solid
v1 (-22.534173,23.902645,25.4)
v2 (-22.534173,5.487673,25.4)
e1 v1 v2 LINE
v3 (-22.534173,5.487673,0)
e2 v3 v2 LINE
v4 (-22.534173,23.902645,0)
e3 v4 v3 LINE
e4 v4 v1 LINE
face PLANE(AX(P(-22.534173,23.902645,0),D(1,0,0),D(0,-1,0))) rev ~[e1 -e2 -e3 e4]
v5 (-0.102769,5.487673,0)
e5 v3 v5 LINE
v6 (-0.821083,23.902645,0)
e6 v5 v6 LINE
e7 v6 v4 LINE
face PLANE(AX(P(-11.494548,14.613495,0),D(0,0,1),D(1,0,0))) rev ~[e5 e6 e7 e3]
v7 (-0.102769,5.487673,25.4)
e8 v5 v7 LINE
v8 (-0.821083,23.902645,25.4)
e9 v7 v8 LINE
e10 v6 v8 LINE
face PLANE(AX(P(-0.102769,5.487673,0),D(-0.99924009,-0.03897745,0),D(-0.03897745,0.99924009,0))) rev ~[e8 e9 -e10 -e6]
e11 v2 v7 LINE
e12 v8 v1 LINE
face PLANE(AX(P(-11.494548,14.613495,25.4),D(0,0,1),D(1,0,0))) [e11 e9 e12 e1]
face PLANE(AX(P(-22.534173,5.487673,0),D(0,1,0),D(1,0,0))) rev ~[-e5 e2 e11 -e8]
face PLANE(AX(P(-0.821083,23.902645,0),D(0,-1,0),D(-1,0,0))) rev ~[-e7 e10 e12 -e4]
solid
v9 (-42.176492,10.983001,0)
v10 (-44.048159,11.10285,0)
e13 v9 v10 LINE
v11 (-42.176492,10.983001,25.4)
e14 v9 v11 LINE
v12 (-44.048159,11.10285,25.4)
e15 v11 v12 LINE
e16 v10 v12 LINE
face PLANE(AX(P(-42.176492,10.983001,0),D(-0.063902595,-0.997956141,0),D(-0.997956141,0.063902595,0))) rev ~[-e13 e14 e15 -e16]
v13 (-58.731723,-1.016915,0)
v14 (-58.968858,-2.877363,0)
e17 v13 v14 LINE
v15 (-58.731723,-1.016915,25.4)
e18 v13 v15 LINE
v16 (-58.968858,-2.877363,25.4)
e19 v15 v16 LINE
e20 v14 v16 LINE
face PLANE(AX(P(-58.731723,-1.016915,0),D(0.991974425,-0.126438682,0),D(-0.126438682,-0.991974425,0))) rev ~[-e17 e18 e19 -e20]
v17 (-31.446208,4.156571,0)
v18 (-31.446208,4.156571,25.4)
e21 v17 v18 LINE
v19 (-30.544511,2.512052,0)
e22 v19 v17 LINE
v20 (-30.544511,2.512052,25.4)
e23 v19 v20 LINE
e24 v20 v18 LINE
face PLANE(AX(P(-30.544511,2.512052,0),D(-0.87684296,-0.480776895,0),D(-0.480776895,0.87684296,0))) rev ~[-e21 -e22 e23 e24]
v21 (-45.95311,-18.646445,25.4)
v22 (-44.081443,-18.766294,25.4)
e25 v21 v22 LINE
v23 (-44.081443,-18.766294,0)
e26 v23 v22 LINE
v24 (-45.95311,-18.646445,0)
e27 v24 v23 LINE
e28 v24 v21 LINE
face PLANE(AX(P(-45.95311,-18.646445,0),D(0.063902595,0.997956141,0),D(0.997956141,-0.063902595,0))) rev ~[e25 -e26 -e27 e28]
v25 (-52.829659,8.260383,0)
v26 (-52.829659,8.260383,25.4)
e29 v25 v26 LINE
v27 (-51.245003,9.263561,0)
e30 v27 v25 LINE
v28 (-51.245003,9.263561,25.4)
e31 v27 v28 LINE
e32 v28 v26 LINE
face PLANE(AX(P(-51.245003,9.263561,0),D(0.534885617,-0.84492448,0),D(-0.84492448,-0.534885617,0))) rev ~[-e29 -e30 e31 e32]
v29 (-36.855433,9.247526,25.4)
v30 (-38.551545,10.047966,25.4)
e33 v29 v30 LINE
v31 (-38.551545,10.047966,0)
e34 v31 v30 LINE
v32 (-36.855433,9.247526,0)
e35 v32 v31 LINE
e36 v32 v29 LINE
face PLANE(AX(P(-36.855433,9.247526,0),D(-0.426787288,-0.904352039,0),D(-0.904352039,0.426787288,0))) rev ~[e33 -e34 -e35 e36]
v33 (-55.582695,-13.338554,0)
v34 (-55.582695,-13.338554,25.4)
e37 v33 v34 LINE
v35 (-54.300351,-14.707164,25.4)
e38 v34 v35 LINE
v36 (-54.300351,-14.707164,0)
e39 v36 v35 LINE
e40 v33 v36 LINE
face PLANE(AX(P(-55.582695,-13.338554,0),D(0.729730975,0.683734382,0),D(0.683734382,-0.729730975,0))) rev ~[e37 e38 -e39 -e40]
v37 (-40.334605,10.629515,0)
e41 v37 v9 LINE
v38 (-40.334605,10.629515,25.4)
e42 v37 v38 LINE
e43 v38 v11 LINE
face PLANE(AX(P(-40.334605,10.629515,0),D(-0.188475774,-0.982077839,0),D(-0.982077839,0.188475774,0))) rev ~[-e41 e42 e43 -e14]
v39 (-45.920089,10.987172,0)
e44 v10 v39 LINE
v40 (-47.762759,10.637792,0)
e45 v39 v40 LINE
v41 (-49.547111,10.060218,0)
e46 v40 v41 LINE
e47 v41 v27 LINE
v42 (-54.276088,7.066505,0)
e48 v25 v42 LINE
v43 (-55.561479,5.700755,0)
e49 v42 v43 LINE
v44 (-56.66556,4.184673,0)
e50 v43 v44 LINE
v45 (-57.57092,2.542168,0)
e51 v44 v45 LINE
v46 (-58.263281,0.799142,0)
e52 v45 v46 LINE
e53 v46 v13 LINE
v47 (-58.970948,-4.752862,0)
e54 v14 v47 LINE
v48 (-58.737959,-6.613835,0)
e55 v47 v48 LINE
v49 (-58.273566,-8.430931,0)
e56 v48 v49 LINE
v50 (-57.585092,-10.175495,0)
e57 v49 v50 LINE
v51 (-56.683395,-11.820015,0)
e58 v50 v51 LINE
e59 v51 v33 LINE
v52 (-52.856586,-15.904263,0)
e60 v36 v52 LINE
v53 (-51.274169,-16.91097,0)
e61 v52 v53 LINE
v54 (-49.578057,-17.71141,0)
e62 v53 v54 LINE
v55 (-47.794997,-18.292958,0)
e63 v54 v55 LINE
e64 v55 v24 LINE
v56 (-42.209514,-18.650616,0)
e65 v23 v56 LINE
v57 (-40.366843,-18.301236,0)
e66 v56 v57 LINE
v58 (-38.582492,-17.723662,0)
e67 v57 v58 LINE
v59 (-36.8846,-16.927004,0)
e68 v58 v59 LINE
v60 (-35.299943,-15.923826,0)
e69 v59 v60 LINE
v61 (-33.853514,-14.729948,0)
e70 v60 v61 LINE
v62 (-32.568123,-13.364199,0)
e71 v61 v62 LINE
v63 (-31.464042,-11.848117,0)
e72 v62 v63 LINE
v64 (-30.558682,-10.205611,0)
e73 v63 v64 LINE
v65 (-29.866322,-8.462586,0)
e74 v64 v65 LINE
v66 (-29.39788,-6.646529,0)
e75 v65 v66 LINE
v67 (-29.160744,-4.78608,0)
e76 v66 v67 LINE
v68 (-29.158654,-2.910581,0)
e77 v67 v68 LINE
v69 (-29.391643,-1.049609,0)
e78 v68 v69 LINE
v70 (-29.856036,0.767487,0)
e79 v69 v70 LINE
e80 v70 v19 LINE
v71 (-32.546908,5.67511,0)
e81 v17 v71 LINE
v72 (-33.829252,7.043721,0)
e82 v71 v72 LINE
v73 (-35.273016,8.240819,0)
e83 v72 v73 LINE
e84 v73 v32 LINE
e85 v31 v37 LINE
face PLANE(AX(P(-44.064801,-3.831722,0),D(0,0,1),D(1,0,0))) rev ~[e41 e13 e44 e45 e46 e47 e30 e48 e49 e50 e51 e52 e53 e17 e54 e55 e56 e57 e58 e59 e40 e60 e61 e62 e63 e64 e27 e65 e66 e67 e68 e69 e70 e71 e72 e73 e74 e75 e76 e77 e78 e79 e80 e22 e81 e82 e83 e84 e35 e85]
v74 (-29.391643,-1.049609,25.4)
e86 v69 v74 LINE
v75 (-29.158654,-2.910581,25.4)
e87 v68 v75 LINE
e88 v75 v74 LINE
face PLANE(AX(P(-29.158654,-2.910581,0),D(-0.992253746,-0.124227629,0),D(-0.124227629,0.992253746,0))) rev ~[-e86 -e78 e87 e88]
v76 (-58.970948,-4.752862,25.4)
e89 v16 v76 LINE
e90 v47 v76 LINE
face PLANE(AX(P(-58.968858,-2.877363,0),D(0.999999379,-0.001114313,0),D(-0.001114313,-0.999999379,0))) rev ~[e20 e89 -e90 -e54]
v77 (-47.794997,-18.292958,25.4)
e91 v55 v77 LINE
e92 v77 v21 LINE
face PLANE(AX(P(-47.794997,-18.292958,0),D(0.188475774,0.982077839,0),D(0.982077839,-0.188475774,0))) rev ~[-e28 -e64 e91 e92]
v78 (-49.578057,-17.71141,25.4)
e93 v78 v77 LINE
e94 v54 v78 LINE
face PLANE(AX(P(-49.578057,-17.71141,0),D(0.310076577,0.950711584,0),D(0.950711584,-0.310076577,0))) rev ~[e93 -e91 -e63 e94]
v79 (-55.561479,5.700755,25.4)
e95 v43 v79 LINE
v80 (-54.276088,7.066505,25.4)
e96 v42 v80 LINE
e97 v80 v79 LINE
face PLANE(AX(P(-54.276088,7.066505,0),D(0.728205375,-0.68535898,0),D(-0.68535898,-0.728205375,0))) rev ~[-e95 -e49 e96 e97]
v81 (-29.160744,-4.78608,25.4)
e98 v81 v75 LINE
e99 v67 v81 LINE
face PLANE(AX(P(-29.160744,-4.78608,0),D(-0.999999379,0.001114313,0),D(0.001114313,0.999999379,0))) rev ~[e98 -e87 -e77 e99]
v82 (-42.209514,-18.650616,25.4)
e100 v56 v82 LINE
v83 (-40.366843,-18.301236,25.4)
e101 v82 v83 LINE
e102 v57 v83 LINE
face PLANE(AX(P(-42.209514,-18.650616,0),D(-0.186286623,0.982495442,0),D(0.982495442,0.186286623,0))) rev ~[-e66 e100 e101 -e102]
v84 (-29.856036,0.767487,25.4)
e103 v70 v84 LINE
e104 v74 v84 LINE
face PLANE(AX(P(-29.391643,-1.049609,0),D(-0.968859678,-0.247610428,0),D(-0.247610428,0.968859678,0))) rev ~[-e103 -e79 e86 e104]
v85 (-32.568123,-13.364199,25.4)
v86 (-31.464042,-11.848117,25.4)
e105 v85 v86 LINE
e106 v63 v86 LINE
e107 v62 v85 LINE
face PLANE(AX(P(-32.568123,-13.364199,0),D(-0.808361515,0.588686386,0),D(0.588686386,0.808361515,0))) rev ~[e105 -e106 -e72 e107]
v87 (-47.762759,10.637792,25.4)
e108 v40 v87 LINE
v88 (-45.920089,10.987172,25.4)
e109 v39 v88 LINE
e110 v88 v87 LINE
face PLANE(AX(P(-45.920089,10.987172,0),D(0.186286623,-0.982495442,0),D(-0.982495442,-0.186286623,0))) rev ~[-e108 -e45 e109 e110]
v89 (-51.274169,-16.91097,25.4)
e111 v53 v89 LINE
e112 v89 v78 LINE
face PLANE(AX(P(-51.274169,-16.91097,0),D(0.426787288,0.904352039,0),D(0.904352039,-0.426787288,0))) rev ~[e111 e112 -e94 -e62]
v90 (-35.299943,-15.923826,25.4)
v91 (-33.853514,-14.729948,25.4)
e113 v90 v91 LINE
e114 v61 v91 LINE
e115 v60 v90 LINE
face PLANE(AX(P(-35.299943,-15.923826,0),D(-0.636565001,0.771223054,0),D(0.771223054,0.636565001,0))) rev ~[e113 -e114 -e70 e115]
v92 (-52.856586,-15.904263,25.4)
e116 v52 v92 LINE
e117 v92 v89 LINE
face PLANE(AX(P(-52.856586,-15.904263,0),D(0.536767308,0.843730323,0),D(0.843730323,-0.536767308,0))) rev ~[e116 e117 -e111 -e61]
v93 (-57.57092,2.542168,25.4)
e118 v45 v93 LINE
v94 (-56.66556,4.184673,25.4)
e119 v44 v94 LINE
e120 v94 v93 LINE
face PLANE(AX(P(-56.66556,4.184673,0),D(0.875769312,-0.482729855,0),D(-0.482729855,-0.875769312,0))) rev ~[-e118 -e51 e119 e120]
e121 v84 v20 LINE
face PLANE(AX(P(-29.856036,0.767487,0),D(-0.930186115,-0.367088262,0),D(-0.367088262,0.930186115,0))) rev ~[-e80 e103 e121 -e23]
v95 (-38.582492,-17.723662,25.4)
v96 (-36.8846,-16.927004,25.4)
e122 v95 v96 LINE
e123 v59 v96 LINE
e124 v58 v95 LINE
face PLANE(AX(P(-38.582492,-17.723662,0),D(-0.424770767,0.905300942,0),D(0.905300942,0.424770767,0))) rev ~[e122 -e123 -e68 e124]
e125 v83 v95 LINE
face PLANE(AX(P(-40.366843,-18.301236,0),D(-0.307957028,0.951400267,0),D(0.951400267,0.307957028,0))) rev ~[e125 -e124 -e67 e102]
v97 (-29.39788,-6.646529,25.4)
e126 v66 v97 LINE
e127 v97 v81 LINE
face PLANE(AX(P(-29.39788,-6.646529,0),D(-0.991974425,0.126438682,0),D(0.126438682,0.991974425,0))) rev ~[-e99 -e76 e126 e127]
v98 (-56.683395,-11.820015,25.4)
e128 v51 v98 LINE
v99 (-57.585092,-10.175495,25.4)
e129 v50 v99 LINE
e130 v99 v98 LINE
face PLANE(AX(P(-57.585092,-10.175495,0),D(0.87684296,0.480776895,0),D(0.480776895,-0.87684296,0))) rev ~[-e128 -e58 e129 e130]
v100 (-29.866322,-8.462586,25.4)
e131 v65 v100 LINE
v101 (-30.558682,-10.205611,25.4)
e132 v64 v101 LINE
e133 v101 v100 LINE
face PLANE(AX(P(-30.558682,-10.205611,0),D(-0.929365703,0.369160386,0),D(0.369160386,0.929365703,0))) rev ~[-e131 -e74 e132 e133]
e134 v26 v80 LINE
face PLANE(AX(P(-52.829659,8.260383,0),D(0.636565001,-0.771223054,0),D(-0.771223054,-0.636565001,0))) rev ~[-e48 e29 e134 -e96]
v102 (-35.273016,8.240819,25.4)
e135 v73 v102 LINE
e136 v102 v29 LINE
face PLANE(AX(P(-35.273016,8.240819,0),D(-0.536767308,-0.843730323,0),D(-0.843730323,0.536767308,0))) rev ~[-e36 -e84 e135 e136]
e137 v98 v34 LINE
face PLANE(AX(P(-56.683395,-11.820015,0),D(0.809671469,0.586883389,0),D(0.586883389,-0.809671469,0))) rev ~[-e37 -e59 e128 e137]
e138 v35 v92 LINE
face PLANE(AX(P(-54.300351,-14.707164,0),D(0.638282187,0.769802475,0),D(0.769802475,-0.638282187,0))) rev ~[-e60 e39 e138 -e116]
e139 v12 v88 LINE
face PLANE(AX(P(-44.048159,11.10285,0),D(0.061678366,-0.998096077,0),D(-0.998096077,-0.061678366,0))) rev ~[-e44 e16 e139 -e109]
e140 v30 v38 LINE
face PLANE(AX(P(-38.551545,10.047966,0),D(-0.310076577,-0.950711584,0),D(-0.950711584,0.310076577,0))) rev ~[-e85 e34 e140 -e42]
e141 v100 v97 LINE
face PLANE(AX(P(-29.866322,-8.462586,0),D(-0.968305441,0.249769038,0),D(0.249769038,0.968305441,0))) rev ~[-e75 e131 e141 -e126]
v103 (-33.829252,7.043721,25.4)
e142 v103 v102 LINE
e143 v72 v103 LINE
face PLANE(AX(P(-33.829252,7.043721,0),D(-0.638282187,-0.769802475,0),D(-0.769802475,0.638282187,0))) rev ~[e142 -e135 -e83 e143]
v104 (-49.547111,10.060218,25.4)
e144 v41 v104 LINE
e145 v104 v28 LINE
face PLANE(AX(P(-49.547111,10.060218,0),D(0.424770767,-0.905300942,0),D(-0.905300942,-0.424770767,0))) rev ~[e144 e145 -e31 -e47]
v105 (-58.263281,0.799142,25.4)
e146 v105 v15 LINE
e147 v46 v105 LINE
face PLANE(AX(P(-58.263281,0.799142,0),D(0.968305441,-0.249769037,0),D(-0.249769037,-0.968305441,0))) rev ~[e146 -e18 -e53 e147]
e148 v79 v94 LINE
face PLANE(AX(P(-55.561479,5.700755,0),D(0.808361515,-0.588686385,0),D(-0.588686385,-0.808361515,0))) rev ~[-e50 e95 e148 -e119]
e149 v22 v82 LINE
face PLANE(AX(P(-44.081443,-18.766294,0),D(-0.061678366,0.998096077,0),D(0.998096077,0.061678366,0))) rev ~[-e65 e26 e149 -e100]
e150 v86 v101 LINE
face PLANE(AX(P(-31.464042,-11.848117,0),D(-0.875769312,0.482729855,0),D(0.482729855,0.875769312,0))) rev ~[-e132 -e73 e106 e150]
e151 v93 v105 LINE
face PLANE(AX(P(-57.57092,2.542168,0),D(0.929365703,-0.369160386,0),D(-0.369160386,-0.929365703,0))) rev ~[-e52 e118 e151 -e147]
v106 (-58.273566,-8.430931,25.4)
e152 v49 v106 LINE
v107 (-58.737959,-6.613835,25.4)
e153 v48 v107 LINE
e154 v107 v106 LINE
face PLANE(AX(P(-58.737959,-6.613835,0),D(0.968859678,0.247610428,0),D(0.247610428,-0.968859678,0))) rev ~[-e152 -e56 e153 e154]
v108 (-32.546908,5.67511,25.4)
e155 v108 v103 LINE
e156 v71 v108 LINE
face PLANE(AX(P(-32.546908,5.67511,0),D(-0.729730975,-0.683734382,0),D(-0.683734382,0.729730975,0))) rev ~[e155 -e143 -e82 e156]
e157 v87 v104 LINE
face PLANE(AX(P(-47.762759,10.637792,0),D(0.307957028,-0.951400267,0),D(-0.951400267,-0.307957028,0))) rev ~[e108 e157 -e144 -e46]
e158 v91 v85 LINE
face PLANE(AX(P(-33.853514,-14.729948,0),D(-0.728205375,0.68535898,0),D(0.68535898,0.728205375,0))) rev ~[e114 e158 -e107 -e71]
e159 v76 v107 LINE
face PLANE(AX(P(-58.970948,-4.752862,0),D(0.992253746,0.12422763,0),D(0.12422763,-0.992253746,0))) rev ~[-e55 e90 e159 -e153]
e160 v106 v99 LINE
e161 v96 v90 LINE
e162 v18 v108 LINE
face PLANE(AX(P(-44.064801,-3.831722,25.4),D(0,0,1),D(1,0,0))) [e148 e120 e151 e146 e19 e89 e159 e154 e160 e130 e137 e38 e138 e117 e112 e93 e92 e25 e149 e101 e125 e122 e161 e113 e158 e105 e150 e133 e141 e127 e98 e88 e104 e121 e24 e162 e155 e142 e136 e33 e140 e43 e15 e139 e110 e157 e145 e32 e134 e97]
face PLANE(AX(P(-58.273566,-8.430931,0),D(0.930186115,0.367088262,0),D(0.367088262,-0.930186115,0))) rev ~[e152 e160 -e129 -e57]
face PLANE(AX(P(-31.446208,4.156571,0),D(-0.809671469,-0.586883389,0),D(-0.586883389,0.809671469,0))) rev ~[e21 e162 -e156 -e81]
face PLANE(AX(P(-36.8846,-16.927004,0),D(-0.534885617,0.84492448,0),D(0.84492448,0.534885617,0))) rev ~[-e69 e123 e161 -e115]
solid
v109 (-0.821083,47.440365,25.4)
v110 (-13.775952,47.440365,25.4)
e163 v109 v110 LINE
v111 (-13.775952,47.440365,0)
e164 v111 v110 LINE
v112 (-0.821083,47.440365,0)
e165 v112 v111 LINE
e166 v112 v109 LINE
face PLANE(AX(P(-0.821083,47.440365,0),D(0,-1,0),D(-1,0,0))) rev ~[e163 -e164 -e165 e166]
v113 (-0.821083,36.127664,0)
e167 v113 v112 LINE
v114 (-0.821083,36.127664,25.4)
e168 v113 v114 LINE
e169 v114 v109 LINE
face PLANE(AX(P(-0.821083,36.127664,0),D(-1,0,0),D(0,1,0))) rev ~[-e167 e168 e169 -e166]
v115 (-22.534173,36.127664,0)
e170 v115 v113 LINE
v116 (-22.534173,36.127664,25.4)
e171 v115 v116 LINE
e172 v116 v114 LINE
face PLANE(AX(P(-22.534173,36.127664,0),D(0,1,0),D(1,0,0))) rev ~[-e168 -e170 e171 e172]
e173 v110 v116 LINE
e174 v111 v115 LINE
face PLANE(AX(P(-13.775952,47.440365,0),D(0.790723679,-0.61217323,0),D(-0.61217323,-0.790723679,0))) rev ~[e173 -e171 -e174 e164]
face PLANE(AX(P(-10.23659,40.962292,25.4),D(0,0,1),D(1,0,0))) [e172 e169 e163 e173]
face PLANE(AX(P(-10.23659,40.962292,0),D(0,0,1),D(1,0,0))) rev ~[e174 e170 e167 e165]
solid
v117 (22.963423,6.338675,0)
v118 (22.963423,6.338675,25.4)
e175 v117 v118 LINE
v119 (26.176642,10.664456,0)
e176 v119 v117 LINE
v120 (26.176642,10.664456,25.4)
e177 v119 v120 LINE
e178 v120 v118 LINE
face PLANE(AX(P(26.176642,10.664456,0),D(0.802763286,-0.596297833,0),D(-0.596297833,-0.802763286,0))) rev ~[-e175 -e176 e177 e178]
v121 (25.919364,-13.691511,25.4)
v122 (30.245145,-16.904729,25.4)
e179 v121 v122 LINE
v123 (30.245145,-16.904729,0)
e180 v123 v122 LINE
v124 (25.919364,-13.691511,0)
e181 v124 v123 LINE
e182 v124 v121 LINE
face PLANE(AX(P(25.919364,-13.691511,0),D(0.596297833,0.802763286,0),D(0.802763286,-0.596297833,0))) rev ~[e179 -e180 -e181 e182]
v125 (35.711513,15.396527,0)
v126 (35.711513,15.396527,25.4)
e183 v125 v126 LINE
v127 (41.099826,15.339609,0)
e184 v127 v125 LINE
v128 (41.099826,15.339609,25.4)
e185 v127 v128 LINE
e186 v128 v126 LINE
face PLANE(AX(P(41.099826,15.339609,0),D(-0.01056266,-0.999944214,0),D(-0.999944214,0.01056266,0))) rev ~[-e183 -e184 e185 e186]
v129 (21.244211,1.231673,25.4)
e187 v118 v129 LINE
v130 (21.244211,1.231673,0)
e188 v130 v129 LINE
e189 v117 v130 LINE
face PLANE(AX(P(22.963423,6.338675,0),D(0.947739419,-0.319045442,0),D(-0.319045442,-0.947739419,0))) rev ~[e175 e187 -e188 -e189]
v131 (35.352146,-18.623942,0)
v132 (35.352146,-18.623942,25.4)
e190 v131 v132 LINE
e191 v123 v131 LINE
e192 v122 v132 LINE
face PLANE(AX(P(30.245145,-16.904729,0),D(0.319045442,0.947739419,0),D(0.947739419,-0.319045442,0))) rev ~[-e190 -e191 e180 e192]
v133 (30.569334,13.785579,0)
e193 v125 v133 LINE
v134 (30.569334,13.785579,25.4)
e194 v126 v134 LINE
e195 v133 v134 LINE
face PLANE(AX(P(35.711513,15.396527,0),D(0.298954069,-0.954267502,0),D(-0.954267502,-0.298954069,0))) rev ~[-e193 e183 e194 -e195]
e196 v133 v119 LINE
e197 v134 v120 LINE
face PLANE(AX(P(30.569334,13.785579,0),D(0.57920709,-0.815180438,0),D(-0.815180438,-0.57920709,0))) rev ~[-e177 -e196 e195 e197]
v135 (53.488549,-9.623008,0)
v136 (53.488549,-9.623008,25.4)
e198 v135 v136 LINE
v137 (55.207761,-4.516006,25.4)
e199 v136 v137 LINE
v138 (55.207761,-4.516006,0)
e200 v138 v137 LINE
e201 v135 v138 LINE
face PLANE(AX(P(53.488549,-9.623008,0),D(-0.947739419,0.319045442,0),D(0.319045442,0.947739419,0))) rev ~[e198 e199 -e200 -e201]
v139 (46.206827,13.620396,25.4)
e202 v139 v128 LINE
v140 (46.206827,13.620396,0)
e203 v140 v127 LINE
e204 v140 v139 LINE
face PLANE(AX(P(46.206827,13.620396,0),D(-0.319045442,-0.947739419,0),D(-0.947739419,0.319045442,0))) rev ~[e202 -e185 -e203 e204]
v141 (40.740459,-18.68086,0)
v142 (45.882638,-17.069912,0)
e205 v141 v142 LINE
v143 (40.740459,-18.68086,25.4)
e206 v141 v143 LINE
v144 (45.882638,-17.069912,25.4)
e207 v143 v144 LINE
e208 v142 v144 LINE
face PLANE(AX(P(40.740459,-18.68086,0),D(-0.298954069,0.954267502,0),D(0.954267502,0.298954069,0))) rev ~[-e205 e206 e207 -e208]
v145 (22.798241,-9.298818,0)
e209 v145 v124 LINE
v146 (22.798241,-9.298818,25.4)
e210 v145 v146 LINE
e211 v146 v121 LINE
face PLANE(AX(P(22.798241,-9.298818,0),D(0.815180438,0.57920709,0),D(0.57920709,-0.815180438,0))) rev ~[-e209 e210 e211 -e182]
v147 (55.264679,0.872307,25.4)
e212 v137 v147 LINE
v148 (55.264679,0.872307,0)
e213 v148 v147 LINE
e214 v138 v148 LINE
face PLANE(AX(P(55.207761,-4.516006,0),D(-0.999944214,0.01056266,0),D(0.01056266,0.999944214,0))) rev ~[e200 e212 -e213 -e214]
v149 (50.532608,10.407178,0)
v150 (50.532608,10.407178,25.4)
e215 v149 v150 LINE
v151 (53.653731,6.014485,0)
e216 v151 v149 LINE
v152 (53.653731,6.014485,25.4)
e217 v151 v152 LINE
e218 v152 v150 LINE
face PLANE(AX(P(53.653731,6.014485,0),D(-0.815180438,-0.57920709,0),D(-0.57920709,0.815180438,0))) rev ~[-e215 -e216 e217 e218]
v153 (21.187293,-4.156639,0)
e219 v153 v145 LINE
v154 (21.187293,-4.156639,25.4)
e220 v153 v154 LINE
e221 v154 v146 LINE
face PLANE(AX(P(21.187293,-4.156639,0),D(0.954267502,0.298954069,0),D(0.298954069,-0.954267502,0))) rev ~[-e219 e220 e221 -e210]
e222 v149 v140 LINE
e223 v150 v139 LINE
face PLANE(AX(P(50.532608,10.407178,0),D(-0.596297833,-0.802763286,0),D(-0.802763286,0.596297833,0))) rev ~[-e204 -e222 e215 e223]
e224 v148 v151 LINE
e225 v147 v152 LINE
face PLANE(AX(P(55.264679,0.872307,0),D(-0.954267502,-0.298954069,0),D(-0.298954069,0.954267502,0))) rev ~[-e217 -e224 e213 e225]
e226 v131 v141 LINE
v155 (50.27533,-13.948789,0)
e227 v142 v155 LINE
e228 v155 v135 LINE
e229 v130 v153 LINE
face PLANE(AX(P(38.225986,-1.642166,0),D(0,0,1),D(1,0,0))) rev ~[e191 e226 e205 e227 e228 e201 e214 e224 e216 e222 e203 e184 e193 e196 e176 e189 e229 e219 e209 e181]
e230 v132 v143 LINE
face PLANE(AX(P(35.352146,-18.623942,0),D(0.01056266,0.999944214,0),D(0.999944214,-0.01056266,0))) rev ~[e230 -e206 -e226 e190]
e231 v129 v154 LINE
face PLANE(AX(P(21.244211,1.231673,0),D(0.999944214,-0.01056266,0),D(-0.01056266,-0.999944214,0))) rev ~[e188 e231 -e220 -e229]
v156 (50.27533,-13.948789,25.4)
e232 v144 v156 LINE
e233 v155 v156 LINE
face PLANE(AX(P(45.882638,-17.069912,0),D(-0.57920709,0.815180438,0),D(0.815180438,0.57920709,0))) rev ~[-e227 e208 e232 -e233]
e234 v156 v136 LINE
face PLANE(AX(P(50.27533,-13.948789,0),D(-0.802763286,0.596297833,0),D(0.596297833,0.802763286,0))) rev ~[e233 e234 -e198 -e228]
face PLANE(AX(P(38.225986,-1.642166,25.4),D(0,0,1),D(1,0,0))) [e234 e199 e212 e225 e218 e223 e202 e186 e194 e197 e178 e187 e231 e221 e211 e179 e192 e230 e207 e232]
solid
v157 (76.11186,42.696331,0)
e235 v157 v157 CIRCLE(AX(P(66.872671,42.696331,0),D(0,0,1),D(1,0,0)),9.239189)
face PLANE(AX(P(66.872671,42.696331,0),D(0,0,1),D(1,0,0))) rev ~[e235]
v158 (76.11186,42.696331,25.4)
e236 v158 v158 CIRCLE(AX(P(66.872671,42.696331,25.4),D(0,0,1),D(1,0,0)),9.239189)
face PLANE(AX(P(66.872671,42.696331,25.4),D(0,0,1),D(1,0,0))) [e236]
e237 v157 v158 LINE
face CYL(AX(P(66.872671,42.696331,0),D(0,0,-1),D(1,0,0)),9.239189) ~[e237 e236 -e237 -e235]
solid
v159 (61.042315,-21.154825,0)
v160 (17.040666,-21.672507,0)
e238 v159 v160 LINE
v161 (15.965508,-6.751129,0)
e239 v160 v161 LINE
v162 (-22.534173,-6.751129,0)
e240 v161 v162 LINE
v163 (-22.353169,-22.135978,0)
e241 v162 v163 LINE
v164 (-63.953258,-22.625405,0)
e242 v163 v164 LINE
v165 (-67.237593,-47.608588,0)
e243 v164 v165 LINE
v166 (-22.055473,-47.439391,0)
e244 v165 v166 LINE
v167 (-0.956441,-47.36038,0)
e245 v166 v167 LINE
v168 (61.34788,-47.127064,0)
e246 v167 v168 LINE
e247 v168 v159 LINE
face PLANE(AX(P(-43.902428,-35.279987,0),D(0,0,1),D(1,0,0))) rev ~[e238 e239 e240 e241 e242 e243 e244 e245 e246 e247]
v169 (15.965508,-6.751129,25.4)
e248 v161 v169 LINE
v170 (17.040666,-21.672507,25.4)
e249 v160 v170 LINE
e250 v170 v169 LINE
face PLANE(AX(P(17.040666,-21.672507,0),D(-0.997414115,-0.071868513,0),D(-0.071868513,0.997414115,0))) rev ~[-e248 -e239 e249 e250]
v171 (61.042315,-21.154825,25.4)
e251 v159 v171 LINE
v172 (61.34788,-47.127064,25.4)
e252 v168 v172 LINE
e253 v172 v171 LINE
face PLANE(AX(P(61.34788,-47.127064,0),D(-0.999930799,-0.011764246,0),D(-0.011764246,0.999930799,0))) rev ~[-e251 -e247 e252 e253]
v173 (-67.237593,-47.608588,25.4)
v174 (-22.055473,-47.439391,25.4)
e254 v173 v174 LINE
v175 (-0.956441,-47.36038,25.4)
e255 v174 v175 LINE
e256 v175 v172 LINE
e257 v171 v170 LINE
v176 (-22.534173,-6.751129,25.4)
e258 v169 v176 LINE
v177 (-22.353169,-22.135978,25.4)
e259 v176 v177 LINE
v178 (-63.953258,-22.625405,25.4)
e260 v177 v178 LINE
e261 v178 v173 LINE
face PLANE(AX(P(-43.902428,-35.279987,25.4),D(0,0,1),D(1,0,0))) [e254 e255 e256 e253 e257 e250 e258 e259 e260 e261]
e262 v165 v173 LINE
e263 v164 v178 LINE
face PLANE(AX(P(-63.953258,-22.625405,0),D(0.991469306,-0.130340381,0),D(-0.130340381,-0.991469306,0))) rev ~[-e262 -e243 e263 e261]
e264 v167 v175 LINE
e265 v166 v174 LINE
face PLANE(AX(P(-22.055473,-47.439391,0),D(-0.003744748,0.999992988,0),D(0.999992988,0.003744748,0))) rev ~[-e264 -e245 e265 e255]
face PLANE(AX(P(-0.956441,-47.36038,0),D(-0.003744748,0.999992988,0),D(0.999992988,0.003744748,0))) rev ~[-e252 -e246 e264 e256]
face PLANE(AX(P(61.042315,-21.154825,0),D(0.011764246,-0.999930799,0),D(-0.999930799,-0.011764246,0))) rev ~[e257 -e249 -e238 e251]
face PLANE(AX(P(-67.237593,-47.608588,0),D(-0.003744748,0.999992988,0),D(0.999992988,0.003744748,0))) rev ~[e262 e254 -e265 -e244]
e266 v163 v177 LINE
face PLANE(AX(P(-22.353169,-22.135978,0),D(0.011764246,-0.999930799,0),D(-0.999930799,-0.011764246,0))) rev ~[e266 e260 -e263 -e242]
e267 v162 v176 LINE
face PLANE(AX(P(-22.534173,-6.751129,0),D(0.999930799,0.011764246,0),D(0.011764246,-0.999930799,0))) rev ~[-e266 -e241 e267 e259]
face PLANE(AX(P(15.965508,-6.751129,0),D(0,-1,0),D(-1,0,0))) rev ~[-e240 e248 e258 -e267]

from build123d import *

# Parameters (mm, degrees)
F1_DEPTH = 25.4
F3_R     = 9.2391890303
F4_DEPTH = 25.4
F6_DEPTH = 25.4


with BuildPart() as f1:
    # F0 (on Top) → F1 (new body)
    with BuildSketch(Plane.XY):
        Polygon((-35.2999434542, -15.9238262774), (-33.8535144259, -14.7299484609), (-32.5681234897, -13.3641991003), (-31.4640420286, -11.848116879), (-30.5586820668, -10.2056113191), (-29.8663216716, -8.4625857147), (-29.3978797801, -6.6465286206), (-29.1607440008, -4.7860803421), (-29.1586541066, -2.91058126), (-29.3916430563, -1.0496091151), (-29.8560364751, 0.7674874501), (-30.5445106012, 2.5120517373), (-31.4462077865, 4.1565709256), (-32.5469077277, 5.675109965), (-33.8292517292, 7.0437205876), (-35.2730164601, 8.2408189865), (-36.855432888, 9.2475262047), (-38.5515453607, 10.0479658681), (-40.3346051712, 10.6295145649), (-42.1764924012, 10.9830009248), (-44.0481593888, 11.1028502569), (-45.9200888274, 10.9871724654), (-47.7627592716, 10.6377918584), (-49.5471107078, 10.0602183766), (-51.2450028479, 9.2635606989), (-52.8296589185, 8.2603825928), (-54.2760879468, 7.0665047763), (-55.5614788829, 5.7007554158), (-56.665560344, 4.1846731944), (-57.5709203059, 2.5421676345), (-58.2632807011, 0.7991420301), (-58.7317225925, -1.016915064), (-58.9688583718, -2.8773633425), (-58.9709482661, -4.7528624246), (-58.7379593163, -6.6138345695), (-58.2735658976, -8.4309311347), (-57.5850917714, -10.1754954219), (-56.6833945861, -11.8200146102), (-55.5826946449, -13.3385536495), (-54.3003506434, -14.7071642722), (-52.8565859126, -15.9042626711), (-51.2741694846, -16.9109698893), (-49.5780570119, -17.7114095526), (-47.7949972014, -18.2929582495), (-45.9531099714, -18.6464446094), (-44.0814429839, -18.7662939415), (-42.2095135452, -18.65061615), (-40.366843101, -18.301235543), (-38.5824916648, -17.7236620612), (-36.8845995248, -16.9270043835), align=None)
    extrude(amount=F1_DEPTH)


with BuildPart() as f1b:
    # F0 (on Top) → F1, piece 2 (new body)
    with BuildSketch(Plane.XY):
        Polygon((45.8826378737, -17.0699117925), (50.2753301706, -13.9487886581), (53.4885487135, -9.6230075922), (55.2077612837, -4.516006185), (55.2646793763, 0.8723066832), (53.653731452, 6.0144854062), (50.5326083176, 10.407177703), (46.2068272516, 13.6203962459), (41.0998258444, 15.3396088161), (35.7115129763, 15.3965269088), (30.5693342532, 13.7855789844), (26.1766419564, 10.66445585), (22.9634234135, 6.3386747841), (21.2442108433, 1.2316733769), (21.1872927506, -4.1566394913), (22.798240675, -9.2988182143), (25.9193638094, -13.6915105111), (30.2451448753, -16.904729054), (35.3521462825, -18.6239416242), (40.7404591507, -18.6808597169), align=None)
    extrude(amount=F1_DEPTH)


with BuildPart() as f4:
    # F3 (on Top) → F4 (new body)
    with BuildSketch(Plane.XY):
        with Locations((66.8726712465, 42.6963306963)):
            Circle(F3_R)
    extrude(amount=F4_DEPTH)


with BuildPart() as f4b:
    # F2 (on Top) → F4, piece 2 (new body)
    with BuildSketch(Plane.XY):
        Polygon((-13.7759521604, 47.4403649569), (-22.534172982, 36.1276641488), (-0.8210833184, 36.1276641488), (-0.8210833184, 47.4403649569), align=None)
    extrude(amount=F4_DEPTH)


with BuildPart() as f4c:
    # F2 (on Top) → F4, piece 3 (new body)
    with BuildSketch(Plane.XY):
        Polygon((-0.8210833184, 23.9026453346), (-22.534172982, 23.9026453346), (-22.534172982, 5.4876731566), (-0.1027688056, 5.4876731566), align=None)
    extrude(amount=F4_DEPTH)


with BuildPart() as f6:
    # F5 (on Top) → F6 (new body)
    with BuildSketch(Plane.XY):
        Polygon((-22.0554731194, -47.4393907258), (-22.3531693042, -22.1359777789), (-63.9532580972, -22.6254053414), (-67.2375932336, -47.608587577), align=None)
        Polygon((17.0406657768, -21.6725069248), (-22.3531693042, -22.1359777789), (-22.0554731194, -47.4393907258), (-0.9564412048, -47.3603796091), (18.874789772, -47.1270639764), align=None)
        Polygon((15.9655082971, -6.751128938), (-22.534172982, -6.751128938), (-22.3531693042, -22.1359777789), (17.0406657768, -21.6725069248), align=None)
        Polygon((61.0423149158, -21.1548248595), (17.0406657768, -21.6725069248), (18.874789772, -47.1270639764), (-0.9564412048, -47.3603796091), (61.347879881, -47.1270639764), align=None)
    extrude(amount=F6_DEPTH)


solid = Compound([f1.part, f1b.part, f4.part, f4b.part, f4c.part, f6.part])
